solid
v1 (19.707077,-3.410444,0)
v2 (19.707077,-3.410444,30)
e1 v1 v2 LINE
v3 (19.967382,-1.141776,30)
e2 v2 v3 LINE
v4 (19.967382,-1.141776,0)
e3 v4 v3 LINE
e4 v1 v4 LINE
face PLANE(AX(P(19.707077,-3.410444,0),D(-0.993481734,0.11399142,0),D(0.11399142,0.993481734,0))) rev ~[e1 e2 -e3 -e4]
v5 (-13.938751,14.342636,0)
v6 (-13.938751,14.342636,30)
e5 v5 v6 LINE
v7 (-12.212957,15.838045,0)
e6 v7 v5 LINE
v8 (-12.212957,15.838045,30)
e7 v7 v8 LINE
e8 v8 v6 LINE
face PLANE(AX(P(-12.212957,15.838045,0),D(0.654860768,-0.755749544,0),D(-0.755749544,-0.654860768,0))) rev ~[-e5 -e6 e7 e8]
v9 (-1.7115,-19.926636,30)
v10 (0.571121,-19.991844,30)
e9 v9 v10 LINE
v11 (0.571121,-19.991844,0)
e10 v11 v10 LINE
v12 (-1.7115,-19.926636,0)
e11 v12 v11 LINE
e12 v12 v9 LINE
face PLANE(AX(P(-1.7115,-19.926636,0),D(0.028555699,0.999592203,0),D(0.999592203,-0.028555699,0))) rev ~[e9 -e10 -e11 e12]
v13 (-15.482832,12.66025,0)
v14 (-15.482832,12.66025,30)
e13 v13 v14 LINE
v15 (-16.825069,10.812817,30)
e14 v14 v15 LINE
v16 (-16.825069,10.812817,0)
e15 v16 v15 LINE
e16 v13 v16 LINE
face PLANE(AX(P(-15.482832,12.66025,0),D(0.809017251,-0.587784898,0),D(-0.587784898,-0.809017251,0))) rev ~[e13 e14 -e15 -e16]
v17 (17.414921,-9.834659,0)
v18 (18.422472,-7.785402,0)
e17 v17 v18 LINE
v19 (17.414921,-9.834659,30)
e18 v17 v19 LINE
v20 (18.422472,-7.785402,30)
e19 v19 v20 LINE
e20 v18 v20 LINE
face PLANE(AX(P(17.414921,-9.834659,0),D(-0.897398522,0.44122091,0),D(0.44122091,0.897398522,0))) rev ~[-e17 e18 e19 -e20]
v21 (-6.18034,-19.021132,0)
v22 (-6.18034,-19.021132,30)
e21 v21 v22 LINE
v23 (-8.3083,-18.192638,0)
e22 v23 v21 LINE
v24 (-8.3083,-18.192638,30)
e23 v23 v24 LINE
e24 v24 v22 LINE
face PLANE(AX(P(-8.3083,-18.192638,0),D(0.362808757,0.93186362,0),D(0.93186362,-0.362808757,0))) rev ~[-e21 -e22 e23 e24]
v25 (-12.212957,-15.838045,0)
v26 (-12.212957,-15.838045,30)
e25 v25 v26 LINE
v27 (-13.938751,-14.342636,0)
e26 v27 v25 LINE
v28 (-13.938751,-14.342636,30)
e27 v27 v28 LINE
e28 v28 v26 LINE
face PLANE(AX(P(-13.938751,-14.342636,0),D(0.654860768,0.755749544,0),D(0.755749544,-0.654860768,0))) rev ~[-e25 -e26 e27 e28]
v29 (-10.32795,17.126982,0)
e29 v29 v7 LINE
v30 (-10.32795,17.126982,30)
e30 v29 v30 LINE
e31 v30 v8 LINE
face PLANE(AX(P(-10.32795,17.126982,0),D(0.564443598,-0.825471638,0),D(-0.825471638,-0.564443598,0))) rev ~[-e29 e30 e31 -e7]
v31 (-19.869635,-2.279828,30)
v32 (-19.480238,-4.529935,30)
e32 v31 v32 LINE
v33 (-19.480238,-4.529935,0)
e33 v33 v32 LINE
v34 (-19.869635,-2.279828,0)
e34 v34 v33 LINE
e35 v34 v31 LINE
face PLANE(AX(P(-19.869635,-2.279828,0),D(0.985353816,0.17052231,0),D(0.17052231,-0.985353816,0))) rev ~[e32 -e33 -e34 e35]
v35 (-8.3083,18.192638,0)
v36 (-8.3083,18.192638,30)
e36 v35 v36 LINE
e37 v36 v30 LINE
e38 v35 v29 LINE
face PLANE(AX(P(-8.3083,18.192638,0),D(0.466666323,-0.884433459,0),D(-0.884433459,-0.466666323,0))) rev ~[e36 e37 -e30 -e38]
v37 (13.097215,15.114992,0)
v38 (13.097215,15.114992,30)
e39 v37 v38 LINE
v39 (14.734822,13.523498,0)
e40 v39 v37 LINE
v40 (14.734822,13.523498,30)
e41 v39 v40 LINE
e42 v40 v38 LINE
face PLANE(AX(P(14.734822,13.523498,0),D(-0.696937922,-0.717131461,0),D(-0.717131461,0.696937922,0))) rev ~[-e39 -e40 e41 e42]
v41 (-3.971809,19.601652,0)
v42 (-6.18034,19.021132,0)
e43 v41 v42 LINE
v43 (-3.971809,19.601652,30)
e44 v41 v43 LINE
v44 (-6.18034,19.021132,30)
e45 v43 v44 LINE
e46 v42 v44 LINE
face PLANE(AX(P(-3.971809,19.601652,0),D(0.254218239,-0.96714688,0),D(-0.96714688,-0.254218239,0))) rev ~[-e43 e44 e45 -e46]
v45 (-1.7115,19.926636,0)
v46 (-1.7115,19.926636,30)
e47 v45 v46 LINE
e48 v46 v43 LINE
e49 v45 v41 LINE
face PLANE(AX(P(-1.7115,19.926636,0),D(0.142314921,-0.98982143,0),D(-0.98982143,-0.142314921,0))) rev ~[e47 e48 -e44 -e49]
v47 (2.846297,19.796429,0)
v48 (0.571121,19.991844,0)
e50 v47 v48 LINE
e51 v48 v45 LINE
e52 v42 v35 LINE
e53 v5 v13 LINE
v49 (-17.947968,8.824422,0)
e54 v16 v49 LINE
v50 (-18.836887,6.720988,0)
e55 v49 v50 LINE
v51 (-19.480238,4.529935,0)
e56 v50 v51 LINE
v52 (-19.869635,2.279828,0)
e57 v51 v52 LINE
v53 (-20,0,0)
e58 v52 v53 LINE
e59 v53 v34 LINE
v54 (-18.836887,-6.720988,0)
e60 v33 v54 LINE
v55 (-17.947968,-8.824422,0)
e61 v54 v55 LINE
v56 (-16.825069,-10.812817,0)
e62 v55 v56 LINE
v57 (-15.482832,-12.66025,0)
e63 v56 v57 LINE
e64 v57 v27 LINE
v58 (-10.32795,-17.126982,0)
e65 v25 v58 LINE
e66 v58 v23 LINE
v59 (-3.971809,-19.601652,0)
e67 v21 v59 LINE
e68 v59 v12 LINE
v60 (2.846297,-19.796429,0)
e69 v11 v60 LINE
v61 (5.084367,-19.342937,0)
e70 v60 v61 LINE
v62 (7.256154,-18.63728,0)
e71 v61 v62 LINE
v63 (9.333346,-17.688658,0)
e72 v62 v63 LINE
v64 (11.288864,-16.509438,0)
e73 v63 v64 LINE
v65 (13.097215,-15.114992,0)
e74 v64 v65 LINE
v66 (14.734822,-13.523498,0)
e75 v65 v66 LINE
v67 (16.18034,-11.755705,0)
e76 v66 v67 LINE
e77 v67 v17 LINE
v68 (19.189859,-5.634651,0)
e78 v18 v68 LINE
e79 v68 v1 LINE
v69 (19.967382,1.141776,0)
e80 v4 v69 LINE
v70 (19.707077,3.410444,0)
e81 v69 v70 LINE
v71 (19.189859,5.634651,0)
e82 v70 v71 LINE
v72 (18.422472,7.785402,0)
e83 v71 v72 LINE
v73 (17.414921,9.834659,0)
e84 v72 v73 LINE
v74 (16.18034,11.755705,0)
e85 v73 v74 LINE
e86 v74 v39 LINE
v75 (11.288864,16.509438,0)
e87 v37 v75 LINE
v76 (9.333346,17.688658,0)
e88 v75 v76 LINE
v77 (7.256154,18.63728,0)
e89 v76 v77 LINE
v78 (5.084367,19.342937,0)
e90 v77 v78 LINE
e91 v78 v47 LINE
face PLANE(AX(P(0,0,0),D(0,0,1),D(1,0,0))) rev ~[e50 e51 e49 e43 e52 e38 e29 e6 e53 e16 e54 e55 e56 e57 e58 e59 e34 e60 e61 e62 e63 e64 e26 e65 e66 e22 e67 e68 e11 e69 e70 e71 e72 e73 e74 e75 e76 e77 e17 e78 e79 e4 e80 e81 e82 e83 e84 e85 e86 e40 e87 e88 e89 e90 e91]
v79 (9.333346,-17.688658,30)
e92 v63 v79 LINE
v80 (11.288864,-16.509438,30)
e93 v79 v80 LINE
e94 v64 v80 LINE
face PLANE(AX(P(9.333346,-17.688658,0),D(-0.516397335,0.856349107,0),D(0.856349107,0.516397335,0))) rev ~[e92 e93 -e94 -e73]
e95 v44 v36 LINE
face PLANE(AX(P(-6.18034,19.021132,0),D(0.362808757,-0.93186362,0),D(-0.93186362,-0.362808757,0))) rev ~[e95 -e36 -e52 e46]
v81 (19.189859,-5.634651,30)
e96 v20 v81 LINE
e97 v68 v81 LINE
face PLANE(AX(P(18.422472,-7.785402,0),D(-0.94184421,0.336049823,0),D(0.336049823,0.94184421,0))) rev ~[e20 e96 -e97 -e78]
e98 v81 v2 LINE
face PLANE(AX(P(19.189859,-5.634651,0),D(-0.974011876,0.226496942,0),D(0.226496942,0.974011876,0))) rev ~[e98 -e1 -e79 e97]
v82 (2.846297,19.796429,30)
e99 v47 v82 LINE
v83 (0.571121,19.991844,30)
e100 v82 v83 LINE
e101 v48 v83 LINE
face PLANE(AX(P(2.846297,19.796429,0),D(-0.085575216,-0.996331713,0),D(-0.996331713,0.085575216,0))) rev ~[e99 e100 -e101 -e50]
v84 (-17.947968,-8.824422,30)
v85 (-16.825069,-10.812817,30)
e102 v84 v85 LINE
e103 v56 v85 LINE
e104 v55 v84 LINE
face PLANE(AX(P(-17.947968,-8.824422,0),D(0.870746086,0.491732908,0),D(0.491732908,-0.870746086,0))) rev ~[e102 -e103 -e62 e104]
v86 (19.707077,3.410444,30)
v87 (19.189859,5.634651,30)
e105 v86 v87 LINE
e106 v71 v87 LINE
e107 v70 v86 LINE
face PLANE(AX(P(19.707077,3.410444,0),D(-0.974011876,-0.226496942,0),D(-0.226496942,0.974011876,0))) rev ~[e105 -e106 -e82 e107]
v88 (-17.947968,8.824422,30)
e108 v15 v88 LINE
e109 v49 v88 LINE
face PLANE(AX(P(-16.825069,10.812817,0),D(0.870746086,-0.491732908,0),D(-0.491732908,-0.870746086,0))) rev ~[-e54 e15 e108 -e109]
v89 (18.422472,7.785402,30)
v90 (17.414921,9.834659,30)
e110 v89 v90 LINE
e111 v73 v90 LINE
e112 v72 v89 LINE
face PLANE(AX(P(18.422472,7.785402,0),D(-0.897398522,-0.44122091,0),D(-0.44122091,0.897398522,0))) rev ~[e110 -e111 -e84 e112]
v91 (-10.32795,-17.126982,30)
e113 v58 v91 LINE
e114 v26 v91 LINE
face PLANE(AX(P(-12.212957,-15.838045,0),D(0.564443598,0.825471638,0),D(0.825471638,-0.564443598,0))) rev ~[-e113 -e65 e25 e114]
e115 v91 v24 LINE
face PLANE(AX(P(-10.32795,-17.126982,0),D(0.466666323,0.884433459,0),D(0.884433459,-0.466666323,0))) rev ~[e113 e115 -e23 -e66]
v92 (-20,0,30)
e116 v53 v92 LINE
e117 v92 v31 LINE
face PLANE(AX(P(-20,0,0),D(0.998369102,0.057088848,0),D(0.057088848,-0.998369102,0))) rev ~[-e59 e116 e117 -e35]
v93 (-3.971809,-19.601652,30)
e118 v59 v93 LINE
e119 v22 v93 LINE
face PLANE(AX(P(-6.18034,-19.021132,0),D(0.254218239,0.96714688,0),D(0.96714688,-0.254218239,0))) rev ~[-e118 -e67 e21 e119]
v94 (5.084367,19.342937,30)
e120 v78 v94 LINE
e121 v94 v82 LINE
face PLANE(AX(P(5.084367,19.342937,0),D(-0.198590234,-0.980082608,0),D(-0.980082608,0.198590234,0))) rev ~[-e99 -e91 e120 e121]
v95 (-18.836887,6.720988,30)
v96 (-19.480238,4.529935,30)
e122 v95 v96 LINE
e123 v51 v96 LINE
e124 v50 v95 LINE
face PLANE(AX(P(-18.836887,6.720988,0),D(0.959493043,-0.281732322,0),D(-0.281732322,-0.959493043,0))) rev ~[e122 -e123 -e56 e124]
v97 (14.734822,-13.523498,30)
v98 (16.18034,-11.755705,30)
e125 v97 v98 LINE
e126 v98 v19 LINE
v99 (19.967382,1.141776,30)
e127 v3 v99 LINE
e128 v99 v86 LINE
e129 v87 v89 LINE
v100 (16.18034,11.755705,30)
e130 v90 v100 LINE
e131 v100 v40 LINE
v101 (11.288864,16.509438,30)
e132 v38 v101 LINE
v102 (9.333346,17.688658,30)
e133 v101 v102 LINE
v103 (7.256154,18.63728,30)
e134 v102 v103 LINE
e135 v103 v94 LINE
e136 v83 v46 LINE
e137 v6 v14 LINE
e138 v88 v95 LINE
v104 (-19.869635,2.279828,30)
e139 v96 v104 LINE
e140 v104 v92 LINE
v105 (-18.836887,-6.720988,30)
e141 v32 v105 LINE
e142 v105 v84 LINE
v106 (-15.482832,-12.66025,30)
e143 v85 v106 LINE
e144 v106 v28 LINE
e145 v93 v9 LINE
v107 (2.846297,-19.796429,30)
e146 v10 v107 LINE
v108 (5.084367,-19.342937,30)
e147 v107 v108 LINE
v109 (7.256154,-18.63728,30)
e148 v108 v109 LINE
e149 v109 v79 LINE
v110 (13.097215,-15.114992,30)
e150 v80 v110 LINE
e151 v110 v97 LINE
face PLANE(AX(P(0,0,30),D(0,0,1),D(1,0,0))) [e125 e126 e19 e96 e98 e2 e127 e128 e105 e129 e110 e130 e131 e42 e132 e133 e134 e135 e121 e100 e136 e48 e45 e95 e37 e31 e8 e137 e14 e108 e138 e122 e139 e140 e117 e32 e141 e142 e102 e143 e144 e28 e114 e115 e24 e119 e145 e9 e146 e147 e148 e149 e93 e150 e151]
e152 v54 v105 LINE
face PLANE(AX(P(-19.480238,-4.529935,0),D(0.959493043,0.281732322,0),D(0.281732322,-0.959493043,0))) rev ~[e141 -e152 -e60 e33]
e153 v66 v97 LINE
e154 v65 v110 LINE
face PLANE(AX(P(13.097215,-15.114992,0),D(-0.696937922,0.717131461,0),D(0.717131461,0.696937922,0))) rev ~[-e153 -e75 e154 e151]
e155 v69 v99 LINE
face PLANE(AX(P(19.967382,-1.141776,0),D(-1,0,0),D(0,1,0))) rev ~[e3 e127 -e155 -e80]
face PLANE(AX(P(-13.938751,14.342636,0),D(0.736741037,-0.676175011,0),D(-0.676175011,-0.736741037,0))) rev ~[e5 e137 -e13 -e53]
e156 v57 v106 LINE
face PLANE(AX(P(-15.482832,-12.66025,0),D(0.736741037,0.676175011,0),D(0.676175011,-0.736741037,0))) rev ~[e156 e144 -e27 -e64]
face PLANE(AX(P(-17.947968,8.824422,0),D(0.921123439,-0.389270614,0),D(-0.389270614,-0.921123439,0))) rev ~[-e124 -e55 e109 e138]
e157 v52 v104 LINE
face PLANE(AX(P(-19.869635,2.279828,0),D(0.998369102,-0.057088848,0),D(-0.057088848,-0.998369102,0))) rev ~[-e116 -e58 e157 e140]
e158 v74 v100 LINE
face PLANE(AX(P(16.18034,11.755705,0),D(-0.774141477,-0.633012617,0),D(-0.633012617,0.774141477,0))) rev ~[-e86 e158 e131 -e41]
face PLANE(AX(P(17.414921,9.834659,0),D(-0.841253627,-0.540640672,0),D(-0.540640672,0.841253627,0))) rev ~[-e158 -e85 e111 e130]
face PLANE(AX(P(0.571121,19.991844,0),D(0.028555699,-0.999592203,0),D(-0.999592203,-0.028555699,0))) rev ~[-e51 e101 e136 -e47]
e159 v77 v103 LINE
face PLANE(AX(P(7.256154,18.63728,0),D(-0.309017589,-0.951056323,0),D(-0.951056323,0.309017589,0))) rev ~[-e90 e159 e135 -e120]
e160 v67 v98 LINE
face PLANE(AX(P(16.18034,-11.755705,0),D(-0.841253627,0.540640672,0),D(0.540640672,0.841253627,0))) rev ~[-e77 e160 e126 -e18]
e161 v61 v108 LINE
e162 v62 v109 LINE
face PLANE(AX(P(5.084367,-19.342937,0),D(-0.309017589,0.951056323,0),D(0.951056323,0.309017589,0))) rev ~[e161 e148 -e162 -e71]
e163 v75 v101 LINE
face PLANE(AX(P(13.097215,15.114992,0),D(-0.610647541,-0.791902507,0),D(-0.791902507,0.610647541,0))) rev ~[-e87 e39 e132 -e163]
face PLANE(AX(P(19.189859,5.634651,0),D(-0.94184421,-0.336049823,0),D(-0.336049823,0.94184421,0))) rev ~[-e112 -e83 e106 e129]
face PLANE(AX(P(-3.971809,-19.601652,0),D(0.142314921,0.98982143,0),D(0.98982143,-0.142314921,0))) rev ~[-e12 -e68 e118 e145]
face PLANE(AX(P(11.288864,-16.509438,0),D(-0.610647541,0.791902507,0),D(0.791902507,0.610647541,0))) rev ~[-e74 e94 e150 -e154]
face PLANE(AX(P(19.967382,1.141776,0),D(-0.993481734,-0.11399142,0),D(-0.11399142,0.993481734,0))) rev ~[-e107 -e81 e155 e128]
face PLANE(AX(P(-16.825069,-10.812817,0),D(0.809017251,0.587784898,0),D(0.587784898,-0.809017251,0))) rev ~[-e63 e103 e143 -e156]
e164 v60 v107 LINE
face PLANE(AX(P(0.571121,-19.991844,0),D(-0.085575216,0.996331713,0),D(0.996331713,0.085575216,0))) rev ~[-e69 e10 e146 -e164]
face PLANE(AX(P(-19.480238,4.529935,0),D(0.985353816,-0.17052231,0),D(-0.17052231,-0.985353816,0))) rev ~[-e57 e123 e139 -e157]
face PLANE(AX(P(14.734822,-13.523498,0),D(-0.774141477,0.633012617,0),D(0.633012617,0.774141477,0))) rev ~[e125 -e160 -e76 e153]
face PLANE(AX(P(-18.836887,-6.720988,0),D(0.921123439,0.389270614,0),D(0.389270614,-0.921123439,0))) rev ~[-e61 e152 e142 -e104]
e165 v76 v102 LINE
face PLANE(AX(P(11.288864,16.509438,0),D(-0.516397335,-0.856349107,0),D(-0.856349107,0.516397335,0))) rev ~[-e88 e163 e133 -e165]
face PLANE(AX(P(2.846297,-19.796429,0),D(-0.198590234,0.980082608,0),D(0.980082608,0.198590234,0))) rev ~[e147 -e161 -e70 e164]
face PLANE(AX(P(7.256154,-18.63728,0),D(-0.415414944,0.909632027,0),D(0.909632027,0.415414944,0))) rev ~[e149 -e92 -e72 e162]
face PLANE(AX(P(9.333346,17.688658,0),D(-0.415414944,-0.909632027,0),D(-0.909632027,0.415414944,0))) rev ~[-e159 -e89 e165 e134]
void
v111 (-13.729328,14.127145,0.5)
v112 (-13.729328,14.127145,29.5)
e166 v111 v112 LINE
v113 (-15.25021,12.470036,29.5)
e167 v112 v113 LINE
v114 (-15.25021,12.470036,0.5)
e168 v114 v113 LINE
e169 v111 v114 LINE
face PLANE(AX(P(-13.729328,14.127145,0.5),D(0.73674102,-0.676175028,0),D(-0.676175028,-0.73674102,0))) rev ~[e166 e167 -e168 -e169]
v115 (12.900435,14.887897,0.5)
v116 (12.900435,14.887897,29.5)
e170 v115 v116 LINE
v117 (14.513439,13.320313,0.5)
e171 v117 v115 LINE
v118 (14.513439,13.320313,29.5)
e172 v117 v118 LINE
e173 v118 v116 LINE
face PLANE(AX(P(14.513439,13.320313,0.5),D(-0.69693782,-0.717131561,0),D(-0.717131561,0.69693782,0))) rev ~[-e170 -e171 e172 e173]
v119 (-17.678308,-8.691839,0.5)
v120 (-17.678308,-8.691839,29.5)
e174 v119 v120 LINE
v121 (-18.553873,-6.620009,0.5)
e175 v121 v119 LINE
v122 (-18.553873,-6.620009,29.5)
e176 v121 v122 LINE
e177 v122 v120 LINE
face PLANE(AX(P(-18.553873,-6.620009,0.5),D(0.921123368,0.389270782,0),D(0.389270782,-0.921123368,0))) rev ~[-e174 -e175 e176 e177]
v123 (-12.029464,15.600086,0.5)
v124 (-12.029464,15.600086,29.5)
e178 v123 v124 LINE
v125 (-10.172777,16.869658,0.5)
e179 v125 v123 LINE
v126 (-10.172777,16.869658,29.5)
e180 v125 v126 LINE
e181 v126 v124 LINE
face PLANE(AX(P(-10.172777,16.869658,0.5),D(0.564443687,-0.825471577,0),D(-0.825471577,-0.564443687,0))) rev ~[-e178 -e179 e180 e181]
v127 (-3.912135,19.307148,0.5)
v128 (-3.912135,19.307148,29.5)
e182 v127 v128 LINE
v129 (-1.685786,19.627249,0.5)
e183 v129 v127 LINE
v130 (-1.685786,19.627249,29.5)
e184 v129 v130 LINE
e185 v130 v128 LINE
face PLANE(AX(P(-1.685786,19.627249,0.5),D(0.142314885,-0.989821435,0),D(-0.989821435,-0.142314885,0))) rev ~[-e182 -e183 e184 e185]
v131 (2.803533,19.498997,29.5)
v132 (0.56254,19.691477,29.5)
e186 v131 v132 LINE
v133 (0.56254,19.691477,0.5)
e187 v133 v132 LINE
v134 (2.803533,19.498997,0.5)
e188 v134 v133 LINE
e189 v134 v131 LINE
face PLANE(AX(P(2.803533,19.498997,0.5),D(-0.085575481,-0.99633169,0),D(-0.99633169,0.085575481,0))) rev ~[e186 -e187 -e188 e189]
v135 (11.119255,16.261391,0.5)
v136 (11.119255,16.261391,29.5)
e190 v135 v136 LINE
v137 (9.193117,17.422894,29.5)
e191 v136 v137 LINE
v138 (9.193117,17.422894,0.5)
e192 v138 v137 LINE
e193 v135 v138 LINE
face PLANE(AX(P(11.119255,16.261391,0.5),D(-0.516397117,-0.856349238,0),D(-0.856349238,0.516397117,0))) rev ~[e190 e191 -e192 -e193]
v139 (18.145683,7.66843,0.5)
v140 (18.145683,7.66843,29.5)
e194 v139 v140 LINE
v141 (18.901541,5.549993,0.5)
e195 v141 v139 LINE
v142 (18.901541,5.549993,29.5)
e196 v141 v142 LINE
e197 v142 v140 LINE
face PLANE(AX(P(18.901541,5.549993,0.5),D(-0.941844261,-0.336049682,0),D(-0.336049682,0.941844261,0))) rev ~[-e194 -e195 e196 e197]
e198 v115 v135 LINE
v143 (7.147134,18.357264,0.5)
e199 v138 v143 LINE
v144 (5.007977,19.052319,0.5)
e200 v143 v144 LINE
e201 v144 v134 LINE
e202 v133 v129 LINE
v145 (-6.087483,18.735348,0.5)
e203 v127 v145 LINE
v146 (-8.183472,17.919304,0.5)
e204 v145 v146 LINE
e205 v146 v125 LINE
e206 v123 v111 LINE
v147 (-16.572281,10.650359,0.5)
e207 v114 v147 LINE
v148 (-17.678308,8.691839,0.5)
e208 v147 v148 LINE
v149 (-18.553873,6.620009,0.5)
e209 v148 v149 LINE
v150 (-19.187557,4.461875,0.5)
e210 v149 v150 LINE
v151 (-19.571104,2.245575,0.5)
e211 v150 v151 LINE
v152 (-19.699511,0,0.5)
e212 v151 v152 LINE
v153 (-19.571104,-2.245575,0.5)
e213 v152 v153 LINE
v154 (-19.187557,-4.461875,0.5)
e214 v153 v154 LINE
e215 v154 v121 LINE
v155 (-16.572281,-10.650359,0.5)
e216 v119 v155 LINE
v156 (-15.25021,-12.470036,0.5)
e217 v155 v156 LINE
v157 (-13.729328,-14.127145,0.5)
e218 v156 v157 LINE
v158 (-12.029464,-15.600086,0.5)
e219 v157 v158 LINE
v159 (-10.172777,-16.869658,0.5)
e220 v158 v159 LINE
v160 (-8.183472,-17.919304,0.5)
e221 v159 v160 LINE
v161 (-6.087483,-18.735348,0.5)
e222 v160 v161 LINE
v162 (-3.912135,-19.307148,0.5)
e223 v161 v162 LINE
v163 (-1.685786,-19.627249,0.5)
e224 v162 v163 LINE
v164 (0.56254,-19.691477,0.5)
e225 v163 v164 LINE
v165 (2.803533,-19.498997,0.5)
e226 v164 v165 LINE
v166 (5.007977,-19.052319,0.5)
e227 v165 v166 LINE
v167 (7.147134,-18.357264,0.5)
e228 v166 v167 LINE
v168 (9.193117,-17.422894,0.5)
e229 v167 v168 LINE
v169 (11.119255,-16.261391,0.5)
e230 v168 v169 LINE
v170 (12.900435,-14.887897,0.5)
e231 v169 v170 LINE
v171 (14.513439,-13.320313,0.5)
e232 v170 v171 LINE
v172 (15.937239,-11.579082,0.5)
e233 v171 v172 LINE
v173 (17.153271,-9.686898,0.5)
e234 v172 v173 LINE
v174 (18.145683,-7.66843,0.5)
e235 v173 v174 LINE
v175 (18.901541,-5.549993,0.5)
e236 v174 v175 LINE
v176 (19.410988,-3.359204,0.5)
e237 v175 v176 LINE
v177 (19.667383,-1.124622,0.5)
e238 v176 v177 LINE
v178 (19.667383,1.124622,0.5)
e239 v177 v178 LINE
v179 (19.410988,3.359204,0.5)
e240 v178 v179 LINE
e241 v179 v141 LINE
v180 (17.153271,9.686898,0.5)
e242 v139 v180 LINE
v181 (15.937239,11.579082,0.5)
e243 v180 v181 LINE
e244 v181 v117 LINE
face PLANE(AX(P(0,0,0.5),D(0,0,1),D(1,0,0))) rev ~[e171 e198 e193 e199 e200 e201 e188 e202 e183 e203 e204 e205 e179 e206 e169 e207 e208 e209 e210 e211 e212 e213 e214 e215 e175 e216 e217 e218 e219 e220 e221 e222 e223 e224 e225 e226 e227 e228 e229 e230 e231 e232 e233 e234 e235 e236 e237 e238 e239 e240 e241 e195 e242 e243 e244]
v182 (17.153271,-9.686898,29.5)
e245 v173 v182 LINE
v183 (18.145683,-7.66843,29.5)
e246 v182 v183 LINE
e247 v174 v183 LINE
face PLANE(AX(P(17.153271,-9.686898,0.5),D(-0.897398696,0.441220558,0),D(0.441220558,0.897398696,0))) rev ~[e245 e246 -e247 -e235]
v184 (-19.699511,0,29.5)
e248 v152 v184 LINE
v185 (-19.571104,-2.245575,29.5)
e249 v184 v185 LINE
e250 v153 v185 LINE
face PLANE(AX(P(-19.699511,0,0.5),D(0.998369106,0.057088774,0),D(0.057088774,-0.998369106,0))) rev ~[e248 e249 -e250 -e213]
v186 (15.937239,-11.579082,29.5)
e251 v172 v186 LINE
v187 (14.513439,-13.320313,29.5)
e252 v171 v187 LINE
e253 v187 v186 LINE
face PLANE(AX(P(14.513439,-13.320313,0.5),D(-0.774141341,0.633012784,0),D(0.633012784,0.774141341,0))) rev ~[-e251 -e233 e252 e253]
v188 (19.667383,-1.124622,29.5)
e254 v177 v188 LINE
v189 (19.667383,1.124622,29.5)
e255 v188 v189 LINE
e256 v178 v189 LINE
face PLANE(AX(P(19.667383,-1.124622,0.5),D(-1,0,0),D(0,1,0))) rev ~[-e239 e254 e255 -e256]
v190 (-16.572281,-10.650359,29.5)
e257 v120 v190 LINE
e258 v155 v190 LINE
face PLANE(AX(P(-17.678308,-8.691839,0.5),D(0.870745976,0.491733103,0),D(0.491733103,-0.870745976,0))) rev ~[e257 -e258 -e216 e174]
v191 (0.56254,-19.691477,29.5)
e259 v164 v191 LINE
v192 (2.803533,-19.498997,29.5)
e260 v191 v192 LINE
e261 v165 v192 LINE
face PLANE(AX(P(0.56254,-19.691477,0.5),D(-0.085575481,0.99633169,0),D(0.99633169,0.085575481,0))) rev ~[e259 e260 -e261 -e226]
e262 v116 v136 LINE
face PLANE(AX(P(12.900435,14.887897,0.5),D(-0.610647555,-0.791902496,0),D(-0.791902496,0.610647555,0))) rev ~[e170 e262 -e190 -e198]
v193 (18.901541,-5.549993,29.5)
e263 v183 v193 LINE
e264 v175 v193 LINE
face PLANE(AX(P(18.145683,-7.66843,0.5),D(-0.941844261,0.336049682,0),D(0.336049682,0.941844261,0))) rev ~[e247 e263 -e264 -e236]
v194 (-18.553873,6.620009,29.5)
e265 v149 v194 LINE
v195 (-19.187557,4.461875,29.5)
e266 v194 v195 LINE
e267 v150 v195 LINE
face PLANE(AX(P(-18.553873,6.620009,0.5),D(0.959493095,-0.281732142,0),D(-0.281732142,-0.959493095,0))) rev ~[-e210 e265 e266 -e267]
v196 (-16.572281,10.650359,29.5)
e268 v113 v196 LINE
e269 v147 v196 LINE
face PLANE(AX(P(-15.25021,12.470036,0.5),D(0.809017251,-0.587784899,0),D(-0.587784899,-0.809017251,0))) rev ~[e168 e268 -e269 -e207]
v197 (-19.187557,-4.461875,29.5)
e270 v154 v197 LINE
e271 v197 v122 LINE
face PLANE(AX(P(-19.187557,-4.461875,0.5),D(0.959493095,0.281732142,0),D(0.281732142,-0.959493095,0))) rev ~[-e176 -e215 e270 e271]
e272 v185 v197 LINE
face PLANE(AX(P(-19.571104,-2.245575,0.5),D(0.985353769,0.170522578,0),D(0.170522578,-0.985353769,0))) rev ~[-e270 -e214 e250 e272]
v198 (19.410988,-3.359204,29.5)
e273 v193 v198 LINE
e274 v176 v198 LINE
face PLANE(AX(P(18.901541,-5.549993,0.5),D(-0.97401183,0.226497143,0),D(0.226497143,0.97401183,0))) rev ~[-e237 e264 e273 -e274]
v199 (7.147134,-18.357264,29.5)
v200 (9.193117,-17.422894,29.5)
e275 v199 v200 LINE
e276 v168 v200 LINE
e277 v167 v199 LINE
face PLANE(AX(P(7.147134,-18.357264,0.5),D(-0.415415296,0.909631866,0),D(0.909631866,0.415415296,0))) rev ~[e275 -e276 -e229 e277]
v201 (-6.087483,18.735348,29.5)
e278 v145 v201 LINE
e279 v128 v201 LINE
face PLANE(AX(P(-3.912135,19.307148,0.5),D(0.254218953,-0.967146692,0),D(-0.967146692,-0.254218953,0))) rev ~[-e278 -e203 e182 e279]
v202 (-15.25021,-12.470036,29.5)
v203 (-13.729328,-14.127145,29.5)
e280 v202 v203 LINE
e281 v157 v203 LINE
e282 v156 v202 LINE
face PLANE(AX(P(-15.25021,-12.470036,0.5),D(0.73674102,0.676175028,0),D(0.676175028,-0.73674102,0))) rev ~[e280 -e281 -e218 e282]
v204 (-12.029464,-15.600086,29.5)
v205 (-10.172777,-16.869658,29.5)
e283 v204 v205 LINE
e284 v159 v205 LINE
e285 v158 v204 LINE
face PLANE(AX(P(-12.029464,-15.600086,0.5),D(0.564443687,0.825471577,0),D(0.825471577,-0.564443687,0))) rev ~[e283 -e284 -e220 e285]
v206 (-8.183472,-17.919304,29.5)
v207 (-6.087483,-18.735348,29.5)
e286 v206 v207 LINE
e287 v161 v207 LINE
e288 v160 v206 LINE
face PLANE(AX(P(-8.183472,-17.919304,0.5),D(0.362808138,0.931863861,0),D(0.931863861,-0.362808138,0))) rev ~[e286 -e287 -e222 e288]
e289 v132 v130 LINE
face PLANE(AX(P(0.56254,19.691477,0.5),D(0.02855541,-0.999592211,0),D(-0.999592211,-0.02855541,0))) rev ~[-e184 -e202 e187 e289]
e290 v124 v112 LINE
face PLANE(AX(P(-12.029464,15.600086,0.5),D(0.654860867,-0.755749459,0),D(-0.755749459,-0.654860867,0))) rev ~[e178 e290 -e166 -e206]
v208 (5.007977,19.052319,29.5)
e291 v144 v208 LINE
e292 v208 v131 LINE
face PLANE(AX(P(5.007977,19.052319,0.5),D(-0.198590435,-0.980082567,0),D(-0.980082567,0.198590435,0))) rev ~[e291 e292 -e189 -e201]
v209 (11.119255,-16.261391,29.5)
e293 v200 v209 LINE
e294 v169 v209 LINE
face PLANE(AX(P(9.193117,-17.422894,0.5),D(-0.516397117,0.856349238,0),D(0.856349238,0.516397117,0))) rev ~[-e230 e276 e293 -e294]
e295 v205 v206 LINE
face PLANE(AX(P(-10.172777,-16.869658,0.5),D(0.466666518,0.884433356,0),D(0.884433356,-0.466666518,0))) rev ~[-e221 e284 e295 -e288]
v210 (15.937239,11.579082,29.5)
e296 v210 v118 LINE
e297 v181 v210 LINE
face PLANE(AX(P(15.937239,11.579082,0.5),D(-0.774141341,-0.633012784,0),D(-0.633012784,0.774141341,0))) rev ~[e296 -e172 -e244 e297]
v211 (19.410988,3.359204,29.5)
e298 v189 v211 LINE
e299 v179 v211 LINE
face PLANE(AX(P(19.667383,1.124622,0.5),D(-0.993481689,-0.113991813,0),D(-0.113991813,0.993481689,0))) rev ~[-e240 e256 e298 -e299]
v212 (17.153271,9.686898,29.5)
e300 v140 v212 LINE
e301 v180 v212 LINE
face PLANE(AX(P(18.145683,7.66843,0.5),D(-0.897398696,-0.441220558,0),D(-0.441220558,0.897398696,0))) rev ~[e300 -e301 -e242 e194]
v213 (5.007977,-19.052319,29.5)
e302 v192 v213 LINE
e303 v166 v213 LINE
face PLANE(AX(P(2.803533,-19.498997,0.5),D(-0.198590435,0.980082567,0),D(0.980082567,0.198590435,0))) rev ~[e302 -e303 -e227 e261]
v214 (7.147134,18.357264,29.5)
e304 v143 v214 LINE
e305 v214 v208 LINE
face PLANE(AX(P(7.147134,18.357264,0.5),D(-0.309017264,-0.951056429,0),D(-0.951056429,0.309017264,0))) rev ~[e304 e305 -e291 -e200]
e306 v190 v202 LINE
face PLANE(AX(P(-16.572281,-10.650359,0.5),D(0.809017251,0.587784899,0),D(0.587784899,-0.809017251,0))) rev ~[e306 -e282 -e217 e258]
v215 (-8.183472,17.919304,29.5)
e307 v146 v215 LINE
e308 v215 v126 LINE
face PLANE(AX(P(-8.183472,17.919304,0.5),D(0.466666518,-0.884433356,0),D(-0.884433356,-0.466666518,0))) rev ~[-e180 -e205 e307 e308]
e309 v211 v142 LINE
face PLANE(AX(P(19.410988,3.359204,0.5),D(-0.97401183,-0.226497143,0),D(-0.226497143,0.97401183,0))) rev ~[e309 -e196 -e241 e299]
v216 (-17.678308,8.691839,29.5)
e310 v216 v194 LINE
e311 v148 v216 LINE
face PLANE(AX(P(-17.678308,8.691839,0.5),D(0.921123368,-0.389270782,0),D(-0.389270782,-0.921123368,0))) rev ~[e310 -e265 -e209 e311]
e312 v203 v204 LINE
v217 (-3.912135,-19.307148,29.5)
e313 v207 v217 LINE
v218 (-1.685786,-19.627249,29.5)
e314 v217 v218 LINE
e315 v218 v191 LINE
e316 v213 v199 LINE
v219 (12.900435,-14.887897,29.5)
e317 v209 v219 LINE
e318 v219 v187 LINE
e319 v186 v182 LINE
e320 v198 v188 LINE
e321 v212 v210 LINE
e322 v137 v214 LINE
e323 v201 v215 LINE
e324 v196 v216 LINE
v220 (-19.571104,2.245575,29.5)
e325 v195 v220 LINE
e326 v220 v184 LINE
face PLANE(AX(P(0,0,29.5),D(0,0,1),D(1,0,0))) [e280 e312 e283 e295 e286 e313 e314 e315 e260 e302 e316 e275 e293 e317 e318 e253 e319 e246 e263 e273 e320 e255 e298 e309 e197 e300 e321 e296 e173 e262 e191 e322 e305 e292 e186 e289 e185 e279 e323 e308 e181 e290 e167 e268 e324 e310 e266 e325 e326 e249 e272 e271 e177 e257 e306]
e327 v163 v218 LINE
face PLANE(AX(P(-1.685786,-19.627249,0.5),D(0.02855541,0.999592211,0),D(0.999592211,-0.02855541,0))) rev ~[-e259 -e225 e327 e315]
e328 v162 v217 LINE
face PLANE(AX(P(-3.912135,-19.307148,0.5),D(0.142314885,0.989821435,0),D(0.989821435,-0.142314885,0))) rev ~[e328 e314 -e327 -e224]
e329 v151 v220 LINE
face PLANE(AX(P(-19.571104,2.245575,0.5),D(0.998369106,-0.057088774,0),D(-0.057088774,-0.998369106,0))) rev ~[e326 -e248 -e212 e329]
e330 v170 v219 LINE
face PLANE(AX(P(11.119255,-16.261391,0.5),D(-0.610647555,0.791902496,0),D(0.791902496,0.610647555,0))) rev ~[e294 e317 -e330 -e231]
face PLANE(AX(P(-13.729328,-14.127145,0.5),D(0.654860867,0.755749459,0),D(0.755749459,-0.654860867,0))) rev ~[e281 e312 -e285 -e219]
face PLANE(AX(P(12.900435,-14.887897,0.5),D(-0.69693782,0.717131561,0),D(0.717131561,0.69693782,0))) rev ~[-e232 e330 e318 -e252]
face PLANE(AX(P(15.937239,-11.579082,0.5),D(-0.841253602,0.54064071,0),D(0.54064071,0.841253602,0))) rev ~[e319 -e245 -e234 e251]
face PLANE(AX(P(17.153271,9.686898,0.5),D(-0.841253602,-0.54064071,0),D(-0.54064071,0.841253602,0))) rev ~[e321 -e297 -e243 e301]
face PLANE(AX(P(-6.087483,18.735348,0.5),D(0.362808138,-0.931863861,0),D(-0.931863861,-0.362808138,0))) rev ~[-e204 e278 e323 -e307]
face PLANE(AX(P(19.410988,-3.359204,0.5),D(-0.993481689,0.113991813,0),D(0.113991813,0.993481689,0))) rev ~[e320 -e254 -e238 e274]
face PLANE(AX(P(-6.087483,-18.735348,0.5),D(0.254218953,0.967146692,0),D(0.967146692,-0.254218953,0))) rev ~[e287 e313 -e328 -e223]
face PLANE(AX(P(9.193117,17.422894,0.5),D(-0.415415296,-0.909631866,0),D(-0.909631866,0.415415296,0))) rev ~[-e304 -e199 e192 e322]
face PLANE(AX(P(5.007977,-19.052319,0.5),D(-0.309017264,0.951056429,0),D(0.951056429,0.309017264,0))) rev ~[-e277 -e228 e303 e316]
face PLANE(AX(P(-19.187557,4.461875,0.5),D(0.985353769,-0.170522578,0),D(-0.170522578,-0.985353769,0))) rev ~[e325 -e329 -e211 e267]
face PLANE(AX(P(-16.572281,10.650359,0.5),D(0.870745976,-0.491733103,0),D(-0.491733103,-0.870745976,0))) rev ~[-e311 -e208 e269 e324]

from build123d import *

# Parameters (mm, degrees)
TH_N_NGO_I_DEPTH      = 30
KHOANG_START          = 0.5
KHOANG_R_NG_K_N_DEPTH = 29


with BuildPart() as part:
    # Biên dạng ngoài theo phôi gốc → Thân ngoài (new body)
    with BuildSketch(Plane.XY):
        Polygon((-20, 0), (-19.869634628, -2.279828072), (-19.480237961, -4.52993536), (-18.83688736, -6.720988274), (-17.947967529, -8.824421883), (-16.825069428, -10.81281662), (-15.482831955, -12.66024971), (-13.938751221, -14.342636108), (-12.212957382, -15.83804512), (-10.327949524, -17.126981735), (-8.308300018, -18.192638397), (-6.180339813, -19.021131515), (-3.971809387, -19.601652145), (-1.711500168, -19.926635742), (0.571121037, -19.991844177), (2.846296787, -19.79642868), (5.084366798, -19.34293747), (7.25615406, -18.637279511), (9.333346367, -17.688657761), (11.288864136, -16.509437561), (13.097214699, -15.114992142), (14.734822273, -13.523497581), (16.180339813, -11.75570488), (17.414920807, -9.834658623), (18.422472, -7.785401821), (19.18985939, -5.634651184), (19.707077026, -3.410444021), (19.967382431, -1.141776204), (19.967382431, 1.141776204), (19.707077026, 3.410444021), (19.18985939, 5.634651184), (18.422472, 7.785401821), (17.414920807, 9.834658623), (16.180339813, 11.75570488), (14.734822273, 13.523497581), (13.097214699, 15.114992142), (11.288864136, 16.509437561), (9.333346367, 17.688657761), (7.25615406, 18.637279511), (5.084366798, 19.34293747), (2.846296787, 19.79642868), (0.571121037, 19.991844177), (-1.711500168, 19.926635742), (-3.971809387, 19.601652145), (-6.180339813, 19.021131515), (-8.308300018, 18.192638397), (-10.327949524, 17.126981735), (-12.212957382, 15.83804512), (-13.938751221, 14.342636108), (-15.482831955, 12.66024971), (-16.825069428, 10.81281662), (-17.947967529, 8.824421883), (-18.83688736, 6.720988274), (-19.480237961, 4.52993536), (-19.869634628, 2.279828072), align=None)
    extrude(amount=TH_N_NGO_I_DEPTH)

    # Biên dạng trong cách thành ngoài 0,3 mm → Khoang rỗng kín (cut)
    with BuildSketch(Plane.XY.offset(KHOANG_START)):
        Polygon((-19.57110405, -2.245574713), (-19.187557221, -4.461875439), (-18.553873062, -6.620008946), (-17.678308487, -8.691839218), (-16.572280884, -10.650359154), (-15.250209808, -12.470035553), (-13.729328155, -14.127144813), (-12.029463768, -15.600086212), (-10.172777176, -16.869657516), (-8.18347168, -17.919303894), (-6.087482929, -18.735347748), (-3.912134886, -19.30714798), (-1.68578577, -19.627248764), (0.562540114, -19.691476822), (2.8035326, -19.498996735), (5.007976532, -19.052318573), (7.147133827, -18.357263565), (9.193117142, -17.422893524), (11.119255066, -16.261390686), (12.900435448, -14.887896538), (14.513439179, -13.320313454), (15.937238693, -11.579081535), (17.153270721, -9.686898232), (18.145683289, -7.668429852), (18.901540756, -5.549993038), (19.410987854, -3.359203815), (19.667383194, -1.12462163), (19.667383194, 1.12462163), (19.410987854, 3.359203815), (18.901540756, 5.549993038), (18.145683289, 7.668429852), (17.153270721, 9.686898232), (15.937238693, 11.579081535), (14.513439179, 13.320313454), (12.900435448, 14.887896538), (11.119255066, 16.261390686), (9.193117142, 17.422893524), (7.147133827, 18.357263565), (5.007976532, 19.052318573), (2.8035326, 19.498996735), (0.562540114, 19.691476822), (-1.68578577, 19.627248764), (-3.912134886, 19.30714798), (-6.087482929, 18.735347748), (-8.18347168, 17.919303894), (-10.172777176, 16.869657516), (-12.029463768, 15.600086212), (-13.729328155, 14.127144813), (-15.250209808, 12.470035553), (-16.572280884, 10.650359154), (-17.678308487, 8.691839218), (-18.553873062, 6.620008946), (-19.187557221, 4.461875439), (-19.57110405, 2.245574713), (-19.699510574, 0), align=None)
    extrude(amount=KHOANG_R_NG_K_N_DEPTH, mode=Mode.SUBTRACT)


solid = part.part
